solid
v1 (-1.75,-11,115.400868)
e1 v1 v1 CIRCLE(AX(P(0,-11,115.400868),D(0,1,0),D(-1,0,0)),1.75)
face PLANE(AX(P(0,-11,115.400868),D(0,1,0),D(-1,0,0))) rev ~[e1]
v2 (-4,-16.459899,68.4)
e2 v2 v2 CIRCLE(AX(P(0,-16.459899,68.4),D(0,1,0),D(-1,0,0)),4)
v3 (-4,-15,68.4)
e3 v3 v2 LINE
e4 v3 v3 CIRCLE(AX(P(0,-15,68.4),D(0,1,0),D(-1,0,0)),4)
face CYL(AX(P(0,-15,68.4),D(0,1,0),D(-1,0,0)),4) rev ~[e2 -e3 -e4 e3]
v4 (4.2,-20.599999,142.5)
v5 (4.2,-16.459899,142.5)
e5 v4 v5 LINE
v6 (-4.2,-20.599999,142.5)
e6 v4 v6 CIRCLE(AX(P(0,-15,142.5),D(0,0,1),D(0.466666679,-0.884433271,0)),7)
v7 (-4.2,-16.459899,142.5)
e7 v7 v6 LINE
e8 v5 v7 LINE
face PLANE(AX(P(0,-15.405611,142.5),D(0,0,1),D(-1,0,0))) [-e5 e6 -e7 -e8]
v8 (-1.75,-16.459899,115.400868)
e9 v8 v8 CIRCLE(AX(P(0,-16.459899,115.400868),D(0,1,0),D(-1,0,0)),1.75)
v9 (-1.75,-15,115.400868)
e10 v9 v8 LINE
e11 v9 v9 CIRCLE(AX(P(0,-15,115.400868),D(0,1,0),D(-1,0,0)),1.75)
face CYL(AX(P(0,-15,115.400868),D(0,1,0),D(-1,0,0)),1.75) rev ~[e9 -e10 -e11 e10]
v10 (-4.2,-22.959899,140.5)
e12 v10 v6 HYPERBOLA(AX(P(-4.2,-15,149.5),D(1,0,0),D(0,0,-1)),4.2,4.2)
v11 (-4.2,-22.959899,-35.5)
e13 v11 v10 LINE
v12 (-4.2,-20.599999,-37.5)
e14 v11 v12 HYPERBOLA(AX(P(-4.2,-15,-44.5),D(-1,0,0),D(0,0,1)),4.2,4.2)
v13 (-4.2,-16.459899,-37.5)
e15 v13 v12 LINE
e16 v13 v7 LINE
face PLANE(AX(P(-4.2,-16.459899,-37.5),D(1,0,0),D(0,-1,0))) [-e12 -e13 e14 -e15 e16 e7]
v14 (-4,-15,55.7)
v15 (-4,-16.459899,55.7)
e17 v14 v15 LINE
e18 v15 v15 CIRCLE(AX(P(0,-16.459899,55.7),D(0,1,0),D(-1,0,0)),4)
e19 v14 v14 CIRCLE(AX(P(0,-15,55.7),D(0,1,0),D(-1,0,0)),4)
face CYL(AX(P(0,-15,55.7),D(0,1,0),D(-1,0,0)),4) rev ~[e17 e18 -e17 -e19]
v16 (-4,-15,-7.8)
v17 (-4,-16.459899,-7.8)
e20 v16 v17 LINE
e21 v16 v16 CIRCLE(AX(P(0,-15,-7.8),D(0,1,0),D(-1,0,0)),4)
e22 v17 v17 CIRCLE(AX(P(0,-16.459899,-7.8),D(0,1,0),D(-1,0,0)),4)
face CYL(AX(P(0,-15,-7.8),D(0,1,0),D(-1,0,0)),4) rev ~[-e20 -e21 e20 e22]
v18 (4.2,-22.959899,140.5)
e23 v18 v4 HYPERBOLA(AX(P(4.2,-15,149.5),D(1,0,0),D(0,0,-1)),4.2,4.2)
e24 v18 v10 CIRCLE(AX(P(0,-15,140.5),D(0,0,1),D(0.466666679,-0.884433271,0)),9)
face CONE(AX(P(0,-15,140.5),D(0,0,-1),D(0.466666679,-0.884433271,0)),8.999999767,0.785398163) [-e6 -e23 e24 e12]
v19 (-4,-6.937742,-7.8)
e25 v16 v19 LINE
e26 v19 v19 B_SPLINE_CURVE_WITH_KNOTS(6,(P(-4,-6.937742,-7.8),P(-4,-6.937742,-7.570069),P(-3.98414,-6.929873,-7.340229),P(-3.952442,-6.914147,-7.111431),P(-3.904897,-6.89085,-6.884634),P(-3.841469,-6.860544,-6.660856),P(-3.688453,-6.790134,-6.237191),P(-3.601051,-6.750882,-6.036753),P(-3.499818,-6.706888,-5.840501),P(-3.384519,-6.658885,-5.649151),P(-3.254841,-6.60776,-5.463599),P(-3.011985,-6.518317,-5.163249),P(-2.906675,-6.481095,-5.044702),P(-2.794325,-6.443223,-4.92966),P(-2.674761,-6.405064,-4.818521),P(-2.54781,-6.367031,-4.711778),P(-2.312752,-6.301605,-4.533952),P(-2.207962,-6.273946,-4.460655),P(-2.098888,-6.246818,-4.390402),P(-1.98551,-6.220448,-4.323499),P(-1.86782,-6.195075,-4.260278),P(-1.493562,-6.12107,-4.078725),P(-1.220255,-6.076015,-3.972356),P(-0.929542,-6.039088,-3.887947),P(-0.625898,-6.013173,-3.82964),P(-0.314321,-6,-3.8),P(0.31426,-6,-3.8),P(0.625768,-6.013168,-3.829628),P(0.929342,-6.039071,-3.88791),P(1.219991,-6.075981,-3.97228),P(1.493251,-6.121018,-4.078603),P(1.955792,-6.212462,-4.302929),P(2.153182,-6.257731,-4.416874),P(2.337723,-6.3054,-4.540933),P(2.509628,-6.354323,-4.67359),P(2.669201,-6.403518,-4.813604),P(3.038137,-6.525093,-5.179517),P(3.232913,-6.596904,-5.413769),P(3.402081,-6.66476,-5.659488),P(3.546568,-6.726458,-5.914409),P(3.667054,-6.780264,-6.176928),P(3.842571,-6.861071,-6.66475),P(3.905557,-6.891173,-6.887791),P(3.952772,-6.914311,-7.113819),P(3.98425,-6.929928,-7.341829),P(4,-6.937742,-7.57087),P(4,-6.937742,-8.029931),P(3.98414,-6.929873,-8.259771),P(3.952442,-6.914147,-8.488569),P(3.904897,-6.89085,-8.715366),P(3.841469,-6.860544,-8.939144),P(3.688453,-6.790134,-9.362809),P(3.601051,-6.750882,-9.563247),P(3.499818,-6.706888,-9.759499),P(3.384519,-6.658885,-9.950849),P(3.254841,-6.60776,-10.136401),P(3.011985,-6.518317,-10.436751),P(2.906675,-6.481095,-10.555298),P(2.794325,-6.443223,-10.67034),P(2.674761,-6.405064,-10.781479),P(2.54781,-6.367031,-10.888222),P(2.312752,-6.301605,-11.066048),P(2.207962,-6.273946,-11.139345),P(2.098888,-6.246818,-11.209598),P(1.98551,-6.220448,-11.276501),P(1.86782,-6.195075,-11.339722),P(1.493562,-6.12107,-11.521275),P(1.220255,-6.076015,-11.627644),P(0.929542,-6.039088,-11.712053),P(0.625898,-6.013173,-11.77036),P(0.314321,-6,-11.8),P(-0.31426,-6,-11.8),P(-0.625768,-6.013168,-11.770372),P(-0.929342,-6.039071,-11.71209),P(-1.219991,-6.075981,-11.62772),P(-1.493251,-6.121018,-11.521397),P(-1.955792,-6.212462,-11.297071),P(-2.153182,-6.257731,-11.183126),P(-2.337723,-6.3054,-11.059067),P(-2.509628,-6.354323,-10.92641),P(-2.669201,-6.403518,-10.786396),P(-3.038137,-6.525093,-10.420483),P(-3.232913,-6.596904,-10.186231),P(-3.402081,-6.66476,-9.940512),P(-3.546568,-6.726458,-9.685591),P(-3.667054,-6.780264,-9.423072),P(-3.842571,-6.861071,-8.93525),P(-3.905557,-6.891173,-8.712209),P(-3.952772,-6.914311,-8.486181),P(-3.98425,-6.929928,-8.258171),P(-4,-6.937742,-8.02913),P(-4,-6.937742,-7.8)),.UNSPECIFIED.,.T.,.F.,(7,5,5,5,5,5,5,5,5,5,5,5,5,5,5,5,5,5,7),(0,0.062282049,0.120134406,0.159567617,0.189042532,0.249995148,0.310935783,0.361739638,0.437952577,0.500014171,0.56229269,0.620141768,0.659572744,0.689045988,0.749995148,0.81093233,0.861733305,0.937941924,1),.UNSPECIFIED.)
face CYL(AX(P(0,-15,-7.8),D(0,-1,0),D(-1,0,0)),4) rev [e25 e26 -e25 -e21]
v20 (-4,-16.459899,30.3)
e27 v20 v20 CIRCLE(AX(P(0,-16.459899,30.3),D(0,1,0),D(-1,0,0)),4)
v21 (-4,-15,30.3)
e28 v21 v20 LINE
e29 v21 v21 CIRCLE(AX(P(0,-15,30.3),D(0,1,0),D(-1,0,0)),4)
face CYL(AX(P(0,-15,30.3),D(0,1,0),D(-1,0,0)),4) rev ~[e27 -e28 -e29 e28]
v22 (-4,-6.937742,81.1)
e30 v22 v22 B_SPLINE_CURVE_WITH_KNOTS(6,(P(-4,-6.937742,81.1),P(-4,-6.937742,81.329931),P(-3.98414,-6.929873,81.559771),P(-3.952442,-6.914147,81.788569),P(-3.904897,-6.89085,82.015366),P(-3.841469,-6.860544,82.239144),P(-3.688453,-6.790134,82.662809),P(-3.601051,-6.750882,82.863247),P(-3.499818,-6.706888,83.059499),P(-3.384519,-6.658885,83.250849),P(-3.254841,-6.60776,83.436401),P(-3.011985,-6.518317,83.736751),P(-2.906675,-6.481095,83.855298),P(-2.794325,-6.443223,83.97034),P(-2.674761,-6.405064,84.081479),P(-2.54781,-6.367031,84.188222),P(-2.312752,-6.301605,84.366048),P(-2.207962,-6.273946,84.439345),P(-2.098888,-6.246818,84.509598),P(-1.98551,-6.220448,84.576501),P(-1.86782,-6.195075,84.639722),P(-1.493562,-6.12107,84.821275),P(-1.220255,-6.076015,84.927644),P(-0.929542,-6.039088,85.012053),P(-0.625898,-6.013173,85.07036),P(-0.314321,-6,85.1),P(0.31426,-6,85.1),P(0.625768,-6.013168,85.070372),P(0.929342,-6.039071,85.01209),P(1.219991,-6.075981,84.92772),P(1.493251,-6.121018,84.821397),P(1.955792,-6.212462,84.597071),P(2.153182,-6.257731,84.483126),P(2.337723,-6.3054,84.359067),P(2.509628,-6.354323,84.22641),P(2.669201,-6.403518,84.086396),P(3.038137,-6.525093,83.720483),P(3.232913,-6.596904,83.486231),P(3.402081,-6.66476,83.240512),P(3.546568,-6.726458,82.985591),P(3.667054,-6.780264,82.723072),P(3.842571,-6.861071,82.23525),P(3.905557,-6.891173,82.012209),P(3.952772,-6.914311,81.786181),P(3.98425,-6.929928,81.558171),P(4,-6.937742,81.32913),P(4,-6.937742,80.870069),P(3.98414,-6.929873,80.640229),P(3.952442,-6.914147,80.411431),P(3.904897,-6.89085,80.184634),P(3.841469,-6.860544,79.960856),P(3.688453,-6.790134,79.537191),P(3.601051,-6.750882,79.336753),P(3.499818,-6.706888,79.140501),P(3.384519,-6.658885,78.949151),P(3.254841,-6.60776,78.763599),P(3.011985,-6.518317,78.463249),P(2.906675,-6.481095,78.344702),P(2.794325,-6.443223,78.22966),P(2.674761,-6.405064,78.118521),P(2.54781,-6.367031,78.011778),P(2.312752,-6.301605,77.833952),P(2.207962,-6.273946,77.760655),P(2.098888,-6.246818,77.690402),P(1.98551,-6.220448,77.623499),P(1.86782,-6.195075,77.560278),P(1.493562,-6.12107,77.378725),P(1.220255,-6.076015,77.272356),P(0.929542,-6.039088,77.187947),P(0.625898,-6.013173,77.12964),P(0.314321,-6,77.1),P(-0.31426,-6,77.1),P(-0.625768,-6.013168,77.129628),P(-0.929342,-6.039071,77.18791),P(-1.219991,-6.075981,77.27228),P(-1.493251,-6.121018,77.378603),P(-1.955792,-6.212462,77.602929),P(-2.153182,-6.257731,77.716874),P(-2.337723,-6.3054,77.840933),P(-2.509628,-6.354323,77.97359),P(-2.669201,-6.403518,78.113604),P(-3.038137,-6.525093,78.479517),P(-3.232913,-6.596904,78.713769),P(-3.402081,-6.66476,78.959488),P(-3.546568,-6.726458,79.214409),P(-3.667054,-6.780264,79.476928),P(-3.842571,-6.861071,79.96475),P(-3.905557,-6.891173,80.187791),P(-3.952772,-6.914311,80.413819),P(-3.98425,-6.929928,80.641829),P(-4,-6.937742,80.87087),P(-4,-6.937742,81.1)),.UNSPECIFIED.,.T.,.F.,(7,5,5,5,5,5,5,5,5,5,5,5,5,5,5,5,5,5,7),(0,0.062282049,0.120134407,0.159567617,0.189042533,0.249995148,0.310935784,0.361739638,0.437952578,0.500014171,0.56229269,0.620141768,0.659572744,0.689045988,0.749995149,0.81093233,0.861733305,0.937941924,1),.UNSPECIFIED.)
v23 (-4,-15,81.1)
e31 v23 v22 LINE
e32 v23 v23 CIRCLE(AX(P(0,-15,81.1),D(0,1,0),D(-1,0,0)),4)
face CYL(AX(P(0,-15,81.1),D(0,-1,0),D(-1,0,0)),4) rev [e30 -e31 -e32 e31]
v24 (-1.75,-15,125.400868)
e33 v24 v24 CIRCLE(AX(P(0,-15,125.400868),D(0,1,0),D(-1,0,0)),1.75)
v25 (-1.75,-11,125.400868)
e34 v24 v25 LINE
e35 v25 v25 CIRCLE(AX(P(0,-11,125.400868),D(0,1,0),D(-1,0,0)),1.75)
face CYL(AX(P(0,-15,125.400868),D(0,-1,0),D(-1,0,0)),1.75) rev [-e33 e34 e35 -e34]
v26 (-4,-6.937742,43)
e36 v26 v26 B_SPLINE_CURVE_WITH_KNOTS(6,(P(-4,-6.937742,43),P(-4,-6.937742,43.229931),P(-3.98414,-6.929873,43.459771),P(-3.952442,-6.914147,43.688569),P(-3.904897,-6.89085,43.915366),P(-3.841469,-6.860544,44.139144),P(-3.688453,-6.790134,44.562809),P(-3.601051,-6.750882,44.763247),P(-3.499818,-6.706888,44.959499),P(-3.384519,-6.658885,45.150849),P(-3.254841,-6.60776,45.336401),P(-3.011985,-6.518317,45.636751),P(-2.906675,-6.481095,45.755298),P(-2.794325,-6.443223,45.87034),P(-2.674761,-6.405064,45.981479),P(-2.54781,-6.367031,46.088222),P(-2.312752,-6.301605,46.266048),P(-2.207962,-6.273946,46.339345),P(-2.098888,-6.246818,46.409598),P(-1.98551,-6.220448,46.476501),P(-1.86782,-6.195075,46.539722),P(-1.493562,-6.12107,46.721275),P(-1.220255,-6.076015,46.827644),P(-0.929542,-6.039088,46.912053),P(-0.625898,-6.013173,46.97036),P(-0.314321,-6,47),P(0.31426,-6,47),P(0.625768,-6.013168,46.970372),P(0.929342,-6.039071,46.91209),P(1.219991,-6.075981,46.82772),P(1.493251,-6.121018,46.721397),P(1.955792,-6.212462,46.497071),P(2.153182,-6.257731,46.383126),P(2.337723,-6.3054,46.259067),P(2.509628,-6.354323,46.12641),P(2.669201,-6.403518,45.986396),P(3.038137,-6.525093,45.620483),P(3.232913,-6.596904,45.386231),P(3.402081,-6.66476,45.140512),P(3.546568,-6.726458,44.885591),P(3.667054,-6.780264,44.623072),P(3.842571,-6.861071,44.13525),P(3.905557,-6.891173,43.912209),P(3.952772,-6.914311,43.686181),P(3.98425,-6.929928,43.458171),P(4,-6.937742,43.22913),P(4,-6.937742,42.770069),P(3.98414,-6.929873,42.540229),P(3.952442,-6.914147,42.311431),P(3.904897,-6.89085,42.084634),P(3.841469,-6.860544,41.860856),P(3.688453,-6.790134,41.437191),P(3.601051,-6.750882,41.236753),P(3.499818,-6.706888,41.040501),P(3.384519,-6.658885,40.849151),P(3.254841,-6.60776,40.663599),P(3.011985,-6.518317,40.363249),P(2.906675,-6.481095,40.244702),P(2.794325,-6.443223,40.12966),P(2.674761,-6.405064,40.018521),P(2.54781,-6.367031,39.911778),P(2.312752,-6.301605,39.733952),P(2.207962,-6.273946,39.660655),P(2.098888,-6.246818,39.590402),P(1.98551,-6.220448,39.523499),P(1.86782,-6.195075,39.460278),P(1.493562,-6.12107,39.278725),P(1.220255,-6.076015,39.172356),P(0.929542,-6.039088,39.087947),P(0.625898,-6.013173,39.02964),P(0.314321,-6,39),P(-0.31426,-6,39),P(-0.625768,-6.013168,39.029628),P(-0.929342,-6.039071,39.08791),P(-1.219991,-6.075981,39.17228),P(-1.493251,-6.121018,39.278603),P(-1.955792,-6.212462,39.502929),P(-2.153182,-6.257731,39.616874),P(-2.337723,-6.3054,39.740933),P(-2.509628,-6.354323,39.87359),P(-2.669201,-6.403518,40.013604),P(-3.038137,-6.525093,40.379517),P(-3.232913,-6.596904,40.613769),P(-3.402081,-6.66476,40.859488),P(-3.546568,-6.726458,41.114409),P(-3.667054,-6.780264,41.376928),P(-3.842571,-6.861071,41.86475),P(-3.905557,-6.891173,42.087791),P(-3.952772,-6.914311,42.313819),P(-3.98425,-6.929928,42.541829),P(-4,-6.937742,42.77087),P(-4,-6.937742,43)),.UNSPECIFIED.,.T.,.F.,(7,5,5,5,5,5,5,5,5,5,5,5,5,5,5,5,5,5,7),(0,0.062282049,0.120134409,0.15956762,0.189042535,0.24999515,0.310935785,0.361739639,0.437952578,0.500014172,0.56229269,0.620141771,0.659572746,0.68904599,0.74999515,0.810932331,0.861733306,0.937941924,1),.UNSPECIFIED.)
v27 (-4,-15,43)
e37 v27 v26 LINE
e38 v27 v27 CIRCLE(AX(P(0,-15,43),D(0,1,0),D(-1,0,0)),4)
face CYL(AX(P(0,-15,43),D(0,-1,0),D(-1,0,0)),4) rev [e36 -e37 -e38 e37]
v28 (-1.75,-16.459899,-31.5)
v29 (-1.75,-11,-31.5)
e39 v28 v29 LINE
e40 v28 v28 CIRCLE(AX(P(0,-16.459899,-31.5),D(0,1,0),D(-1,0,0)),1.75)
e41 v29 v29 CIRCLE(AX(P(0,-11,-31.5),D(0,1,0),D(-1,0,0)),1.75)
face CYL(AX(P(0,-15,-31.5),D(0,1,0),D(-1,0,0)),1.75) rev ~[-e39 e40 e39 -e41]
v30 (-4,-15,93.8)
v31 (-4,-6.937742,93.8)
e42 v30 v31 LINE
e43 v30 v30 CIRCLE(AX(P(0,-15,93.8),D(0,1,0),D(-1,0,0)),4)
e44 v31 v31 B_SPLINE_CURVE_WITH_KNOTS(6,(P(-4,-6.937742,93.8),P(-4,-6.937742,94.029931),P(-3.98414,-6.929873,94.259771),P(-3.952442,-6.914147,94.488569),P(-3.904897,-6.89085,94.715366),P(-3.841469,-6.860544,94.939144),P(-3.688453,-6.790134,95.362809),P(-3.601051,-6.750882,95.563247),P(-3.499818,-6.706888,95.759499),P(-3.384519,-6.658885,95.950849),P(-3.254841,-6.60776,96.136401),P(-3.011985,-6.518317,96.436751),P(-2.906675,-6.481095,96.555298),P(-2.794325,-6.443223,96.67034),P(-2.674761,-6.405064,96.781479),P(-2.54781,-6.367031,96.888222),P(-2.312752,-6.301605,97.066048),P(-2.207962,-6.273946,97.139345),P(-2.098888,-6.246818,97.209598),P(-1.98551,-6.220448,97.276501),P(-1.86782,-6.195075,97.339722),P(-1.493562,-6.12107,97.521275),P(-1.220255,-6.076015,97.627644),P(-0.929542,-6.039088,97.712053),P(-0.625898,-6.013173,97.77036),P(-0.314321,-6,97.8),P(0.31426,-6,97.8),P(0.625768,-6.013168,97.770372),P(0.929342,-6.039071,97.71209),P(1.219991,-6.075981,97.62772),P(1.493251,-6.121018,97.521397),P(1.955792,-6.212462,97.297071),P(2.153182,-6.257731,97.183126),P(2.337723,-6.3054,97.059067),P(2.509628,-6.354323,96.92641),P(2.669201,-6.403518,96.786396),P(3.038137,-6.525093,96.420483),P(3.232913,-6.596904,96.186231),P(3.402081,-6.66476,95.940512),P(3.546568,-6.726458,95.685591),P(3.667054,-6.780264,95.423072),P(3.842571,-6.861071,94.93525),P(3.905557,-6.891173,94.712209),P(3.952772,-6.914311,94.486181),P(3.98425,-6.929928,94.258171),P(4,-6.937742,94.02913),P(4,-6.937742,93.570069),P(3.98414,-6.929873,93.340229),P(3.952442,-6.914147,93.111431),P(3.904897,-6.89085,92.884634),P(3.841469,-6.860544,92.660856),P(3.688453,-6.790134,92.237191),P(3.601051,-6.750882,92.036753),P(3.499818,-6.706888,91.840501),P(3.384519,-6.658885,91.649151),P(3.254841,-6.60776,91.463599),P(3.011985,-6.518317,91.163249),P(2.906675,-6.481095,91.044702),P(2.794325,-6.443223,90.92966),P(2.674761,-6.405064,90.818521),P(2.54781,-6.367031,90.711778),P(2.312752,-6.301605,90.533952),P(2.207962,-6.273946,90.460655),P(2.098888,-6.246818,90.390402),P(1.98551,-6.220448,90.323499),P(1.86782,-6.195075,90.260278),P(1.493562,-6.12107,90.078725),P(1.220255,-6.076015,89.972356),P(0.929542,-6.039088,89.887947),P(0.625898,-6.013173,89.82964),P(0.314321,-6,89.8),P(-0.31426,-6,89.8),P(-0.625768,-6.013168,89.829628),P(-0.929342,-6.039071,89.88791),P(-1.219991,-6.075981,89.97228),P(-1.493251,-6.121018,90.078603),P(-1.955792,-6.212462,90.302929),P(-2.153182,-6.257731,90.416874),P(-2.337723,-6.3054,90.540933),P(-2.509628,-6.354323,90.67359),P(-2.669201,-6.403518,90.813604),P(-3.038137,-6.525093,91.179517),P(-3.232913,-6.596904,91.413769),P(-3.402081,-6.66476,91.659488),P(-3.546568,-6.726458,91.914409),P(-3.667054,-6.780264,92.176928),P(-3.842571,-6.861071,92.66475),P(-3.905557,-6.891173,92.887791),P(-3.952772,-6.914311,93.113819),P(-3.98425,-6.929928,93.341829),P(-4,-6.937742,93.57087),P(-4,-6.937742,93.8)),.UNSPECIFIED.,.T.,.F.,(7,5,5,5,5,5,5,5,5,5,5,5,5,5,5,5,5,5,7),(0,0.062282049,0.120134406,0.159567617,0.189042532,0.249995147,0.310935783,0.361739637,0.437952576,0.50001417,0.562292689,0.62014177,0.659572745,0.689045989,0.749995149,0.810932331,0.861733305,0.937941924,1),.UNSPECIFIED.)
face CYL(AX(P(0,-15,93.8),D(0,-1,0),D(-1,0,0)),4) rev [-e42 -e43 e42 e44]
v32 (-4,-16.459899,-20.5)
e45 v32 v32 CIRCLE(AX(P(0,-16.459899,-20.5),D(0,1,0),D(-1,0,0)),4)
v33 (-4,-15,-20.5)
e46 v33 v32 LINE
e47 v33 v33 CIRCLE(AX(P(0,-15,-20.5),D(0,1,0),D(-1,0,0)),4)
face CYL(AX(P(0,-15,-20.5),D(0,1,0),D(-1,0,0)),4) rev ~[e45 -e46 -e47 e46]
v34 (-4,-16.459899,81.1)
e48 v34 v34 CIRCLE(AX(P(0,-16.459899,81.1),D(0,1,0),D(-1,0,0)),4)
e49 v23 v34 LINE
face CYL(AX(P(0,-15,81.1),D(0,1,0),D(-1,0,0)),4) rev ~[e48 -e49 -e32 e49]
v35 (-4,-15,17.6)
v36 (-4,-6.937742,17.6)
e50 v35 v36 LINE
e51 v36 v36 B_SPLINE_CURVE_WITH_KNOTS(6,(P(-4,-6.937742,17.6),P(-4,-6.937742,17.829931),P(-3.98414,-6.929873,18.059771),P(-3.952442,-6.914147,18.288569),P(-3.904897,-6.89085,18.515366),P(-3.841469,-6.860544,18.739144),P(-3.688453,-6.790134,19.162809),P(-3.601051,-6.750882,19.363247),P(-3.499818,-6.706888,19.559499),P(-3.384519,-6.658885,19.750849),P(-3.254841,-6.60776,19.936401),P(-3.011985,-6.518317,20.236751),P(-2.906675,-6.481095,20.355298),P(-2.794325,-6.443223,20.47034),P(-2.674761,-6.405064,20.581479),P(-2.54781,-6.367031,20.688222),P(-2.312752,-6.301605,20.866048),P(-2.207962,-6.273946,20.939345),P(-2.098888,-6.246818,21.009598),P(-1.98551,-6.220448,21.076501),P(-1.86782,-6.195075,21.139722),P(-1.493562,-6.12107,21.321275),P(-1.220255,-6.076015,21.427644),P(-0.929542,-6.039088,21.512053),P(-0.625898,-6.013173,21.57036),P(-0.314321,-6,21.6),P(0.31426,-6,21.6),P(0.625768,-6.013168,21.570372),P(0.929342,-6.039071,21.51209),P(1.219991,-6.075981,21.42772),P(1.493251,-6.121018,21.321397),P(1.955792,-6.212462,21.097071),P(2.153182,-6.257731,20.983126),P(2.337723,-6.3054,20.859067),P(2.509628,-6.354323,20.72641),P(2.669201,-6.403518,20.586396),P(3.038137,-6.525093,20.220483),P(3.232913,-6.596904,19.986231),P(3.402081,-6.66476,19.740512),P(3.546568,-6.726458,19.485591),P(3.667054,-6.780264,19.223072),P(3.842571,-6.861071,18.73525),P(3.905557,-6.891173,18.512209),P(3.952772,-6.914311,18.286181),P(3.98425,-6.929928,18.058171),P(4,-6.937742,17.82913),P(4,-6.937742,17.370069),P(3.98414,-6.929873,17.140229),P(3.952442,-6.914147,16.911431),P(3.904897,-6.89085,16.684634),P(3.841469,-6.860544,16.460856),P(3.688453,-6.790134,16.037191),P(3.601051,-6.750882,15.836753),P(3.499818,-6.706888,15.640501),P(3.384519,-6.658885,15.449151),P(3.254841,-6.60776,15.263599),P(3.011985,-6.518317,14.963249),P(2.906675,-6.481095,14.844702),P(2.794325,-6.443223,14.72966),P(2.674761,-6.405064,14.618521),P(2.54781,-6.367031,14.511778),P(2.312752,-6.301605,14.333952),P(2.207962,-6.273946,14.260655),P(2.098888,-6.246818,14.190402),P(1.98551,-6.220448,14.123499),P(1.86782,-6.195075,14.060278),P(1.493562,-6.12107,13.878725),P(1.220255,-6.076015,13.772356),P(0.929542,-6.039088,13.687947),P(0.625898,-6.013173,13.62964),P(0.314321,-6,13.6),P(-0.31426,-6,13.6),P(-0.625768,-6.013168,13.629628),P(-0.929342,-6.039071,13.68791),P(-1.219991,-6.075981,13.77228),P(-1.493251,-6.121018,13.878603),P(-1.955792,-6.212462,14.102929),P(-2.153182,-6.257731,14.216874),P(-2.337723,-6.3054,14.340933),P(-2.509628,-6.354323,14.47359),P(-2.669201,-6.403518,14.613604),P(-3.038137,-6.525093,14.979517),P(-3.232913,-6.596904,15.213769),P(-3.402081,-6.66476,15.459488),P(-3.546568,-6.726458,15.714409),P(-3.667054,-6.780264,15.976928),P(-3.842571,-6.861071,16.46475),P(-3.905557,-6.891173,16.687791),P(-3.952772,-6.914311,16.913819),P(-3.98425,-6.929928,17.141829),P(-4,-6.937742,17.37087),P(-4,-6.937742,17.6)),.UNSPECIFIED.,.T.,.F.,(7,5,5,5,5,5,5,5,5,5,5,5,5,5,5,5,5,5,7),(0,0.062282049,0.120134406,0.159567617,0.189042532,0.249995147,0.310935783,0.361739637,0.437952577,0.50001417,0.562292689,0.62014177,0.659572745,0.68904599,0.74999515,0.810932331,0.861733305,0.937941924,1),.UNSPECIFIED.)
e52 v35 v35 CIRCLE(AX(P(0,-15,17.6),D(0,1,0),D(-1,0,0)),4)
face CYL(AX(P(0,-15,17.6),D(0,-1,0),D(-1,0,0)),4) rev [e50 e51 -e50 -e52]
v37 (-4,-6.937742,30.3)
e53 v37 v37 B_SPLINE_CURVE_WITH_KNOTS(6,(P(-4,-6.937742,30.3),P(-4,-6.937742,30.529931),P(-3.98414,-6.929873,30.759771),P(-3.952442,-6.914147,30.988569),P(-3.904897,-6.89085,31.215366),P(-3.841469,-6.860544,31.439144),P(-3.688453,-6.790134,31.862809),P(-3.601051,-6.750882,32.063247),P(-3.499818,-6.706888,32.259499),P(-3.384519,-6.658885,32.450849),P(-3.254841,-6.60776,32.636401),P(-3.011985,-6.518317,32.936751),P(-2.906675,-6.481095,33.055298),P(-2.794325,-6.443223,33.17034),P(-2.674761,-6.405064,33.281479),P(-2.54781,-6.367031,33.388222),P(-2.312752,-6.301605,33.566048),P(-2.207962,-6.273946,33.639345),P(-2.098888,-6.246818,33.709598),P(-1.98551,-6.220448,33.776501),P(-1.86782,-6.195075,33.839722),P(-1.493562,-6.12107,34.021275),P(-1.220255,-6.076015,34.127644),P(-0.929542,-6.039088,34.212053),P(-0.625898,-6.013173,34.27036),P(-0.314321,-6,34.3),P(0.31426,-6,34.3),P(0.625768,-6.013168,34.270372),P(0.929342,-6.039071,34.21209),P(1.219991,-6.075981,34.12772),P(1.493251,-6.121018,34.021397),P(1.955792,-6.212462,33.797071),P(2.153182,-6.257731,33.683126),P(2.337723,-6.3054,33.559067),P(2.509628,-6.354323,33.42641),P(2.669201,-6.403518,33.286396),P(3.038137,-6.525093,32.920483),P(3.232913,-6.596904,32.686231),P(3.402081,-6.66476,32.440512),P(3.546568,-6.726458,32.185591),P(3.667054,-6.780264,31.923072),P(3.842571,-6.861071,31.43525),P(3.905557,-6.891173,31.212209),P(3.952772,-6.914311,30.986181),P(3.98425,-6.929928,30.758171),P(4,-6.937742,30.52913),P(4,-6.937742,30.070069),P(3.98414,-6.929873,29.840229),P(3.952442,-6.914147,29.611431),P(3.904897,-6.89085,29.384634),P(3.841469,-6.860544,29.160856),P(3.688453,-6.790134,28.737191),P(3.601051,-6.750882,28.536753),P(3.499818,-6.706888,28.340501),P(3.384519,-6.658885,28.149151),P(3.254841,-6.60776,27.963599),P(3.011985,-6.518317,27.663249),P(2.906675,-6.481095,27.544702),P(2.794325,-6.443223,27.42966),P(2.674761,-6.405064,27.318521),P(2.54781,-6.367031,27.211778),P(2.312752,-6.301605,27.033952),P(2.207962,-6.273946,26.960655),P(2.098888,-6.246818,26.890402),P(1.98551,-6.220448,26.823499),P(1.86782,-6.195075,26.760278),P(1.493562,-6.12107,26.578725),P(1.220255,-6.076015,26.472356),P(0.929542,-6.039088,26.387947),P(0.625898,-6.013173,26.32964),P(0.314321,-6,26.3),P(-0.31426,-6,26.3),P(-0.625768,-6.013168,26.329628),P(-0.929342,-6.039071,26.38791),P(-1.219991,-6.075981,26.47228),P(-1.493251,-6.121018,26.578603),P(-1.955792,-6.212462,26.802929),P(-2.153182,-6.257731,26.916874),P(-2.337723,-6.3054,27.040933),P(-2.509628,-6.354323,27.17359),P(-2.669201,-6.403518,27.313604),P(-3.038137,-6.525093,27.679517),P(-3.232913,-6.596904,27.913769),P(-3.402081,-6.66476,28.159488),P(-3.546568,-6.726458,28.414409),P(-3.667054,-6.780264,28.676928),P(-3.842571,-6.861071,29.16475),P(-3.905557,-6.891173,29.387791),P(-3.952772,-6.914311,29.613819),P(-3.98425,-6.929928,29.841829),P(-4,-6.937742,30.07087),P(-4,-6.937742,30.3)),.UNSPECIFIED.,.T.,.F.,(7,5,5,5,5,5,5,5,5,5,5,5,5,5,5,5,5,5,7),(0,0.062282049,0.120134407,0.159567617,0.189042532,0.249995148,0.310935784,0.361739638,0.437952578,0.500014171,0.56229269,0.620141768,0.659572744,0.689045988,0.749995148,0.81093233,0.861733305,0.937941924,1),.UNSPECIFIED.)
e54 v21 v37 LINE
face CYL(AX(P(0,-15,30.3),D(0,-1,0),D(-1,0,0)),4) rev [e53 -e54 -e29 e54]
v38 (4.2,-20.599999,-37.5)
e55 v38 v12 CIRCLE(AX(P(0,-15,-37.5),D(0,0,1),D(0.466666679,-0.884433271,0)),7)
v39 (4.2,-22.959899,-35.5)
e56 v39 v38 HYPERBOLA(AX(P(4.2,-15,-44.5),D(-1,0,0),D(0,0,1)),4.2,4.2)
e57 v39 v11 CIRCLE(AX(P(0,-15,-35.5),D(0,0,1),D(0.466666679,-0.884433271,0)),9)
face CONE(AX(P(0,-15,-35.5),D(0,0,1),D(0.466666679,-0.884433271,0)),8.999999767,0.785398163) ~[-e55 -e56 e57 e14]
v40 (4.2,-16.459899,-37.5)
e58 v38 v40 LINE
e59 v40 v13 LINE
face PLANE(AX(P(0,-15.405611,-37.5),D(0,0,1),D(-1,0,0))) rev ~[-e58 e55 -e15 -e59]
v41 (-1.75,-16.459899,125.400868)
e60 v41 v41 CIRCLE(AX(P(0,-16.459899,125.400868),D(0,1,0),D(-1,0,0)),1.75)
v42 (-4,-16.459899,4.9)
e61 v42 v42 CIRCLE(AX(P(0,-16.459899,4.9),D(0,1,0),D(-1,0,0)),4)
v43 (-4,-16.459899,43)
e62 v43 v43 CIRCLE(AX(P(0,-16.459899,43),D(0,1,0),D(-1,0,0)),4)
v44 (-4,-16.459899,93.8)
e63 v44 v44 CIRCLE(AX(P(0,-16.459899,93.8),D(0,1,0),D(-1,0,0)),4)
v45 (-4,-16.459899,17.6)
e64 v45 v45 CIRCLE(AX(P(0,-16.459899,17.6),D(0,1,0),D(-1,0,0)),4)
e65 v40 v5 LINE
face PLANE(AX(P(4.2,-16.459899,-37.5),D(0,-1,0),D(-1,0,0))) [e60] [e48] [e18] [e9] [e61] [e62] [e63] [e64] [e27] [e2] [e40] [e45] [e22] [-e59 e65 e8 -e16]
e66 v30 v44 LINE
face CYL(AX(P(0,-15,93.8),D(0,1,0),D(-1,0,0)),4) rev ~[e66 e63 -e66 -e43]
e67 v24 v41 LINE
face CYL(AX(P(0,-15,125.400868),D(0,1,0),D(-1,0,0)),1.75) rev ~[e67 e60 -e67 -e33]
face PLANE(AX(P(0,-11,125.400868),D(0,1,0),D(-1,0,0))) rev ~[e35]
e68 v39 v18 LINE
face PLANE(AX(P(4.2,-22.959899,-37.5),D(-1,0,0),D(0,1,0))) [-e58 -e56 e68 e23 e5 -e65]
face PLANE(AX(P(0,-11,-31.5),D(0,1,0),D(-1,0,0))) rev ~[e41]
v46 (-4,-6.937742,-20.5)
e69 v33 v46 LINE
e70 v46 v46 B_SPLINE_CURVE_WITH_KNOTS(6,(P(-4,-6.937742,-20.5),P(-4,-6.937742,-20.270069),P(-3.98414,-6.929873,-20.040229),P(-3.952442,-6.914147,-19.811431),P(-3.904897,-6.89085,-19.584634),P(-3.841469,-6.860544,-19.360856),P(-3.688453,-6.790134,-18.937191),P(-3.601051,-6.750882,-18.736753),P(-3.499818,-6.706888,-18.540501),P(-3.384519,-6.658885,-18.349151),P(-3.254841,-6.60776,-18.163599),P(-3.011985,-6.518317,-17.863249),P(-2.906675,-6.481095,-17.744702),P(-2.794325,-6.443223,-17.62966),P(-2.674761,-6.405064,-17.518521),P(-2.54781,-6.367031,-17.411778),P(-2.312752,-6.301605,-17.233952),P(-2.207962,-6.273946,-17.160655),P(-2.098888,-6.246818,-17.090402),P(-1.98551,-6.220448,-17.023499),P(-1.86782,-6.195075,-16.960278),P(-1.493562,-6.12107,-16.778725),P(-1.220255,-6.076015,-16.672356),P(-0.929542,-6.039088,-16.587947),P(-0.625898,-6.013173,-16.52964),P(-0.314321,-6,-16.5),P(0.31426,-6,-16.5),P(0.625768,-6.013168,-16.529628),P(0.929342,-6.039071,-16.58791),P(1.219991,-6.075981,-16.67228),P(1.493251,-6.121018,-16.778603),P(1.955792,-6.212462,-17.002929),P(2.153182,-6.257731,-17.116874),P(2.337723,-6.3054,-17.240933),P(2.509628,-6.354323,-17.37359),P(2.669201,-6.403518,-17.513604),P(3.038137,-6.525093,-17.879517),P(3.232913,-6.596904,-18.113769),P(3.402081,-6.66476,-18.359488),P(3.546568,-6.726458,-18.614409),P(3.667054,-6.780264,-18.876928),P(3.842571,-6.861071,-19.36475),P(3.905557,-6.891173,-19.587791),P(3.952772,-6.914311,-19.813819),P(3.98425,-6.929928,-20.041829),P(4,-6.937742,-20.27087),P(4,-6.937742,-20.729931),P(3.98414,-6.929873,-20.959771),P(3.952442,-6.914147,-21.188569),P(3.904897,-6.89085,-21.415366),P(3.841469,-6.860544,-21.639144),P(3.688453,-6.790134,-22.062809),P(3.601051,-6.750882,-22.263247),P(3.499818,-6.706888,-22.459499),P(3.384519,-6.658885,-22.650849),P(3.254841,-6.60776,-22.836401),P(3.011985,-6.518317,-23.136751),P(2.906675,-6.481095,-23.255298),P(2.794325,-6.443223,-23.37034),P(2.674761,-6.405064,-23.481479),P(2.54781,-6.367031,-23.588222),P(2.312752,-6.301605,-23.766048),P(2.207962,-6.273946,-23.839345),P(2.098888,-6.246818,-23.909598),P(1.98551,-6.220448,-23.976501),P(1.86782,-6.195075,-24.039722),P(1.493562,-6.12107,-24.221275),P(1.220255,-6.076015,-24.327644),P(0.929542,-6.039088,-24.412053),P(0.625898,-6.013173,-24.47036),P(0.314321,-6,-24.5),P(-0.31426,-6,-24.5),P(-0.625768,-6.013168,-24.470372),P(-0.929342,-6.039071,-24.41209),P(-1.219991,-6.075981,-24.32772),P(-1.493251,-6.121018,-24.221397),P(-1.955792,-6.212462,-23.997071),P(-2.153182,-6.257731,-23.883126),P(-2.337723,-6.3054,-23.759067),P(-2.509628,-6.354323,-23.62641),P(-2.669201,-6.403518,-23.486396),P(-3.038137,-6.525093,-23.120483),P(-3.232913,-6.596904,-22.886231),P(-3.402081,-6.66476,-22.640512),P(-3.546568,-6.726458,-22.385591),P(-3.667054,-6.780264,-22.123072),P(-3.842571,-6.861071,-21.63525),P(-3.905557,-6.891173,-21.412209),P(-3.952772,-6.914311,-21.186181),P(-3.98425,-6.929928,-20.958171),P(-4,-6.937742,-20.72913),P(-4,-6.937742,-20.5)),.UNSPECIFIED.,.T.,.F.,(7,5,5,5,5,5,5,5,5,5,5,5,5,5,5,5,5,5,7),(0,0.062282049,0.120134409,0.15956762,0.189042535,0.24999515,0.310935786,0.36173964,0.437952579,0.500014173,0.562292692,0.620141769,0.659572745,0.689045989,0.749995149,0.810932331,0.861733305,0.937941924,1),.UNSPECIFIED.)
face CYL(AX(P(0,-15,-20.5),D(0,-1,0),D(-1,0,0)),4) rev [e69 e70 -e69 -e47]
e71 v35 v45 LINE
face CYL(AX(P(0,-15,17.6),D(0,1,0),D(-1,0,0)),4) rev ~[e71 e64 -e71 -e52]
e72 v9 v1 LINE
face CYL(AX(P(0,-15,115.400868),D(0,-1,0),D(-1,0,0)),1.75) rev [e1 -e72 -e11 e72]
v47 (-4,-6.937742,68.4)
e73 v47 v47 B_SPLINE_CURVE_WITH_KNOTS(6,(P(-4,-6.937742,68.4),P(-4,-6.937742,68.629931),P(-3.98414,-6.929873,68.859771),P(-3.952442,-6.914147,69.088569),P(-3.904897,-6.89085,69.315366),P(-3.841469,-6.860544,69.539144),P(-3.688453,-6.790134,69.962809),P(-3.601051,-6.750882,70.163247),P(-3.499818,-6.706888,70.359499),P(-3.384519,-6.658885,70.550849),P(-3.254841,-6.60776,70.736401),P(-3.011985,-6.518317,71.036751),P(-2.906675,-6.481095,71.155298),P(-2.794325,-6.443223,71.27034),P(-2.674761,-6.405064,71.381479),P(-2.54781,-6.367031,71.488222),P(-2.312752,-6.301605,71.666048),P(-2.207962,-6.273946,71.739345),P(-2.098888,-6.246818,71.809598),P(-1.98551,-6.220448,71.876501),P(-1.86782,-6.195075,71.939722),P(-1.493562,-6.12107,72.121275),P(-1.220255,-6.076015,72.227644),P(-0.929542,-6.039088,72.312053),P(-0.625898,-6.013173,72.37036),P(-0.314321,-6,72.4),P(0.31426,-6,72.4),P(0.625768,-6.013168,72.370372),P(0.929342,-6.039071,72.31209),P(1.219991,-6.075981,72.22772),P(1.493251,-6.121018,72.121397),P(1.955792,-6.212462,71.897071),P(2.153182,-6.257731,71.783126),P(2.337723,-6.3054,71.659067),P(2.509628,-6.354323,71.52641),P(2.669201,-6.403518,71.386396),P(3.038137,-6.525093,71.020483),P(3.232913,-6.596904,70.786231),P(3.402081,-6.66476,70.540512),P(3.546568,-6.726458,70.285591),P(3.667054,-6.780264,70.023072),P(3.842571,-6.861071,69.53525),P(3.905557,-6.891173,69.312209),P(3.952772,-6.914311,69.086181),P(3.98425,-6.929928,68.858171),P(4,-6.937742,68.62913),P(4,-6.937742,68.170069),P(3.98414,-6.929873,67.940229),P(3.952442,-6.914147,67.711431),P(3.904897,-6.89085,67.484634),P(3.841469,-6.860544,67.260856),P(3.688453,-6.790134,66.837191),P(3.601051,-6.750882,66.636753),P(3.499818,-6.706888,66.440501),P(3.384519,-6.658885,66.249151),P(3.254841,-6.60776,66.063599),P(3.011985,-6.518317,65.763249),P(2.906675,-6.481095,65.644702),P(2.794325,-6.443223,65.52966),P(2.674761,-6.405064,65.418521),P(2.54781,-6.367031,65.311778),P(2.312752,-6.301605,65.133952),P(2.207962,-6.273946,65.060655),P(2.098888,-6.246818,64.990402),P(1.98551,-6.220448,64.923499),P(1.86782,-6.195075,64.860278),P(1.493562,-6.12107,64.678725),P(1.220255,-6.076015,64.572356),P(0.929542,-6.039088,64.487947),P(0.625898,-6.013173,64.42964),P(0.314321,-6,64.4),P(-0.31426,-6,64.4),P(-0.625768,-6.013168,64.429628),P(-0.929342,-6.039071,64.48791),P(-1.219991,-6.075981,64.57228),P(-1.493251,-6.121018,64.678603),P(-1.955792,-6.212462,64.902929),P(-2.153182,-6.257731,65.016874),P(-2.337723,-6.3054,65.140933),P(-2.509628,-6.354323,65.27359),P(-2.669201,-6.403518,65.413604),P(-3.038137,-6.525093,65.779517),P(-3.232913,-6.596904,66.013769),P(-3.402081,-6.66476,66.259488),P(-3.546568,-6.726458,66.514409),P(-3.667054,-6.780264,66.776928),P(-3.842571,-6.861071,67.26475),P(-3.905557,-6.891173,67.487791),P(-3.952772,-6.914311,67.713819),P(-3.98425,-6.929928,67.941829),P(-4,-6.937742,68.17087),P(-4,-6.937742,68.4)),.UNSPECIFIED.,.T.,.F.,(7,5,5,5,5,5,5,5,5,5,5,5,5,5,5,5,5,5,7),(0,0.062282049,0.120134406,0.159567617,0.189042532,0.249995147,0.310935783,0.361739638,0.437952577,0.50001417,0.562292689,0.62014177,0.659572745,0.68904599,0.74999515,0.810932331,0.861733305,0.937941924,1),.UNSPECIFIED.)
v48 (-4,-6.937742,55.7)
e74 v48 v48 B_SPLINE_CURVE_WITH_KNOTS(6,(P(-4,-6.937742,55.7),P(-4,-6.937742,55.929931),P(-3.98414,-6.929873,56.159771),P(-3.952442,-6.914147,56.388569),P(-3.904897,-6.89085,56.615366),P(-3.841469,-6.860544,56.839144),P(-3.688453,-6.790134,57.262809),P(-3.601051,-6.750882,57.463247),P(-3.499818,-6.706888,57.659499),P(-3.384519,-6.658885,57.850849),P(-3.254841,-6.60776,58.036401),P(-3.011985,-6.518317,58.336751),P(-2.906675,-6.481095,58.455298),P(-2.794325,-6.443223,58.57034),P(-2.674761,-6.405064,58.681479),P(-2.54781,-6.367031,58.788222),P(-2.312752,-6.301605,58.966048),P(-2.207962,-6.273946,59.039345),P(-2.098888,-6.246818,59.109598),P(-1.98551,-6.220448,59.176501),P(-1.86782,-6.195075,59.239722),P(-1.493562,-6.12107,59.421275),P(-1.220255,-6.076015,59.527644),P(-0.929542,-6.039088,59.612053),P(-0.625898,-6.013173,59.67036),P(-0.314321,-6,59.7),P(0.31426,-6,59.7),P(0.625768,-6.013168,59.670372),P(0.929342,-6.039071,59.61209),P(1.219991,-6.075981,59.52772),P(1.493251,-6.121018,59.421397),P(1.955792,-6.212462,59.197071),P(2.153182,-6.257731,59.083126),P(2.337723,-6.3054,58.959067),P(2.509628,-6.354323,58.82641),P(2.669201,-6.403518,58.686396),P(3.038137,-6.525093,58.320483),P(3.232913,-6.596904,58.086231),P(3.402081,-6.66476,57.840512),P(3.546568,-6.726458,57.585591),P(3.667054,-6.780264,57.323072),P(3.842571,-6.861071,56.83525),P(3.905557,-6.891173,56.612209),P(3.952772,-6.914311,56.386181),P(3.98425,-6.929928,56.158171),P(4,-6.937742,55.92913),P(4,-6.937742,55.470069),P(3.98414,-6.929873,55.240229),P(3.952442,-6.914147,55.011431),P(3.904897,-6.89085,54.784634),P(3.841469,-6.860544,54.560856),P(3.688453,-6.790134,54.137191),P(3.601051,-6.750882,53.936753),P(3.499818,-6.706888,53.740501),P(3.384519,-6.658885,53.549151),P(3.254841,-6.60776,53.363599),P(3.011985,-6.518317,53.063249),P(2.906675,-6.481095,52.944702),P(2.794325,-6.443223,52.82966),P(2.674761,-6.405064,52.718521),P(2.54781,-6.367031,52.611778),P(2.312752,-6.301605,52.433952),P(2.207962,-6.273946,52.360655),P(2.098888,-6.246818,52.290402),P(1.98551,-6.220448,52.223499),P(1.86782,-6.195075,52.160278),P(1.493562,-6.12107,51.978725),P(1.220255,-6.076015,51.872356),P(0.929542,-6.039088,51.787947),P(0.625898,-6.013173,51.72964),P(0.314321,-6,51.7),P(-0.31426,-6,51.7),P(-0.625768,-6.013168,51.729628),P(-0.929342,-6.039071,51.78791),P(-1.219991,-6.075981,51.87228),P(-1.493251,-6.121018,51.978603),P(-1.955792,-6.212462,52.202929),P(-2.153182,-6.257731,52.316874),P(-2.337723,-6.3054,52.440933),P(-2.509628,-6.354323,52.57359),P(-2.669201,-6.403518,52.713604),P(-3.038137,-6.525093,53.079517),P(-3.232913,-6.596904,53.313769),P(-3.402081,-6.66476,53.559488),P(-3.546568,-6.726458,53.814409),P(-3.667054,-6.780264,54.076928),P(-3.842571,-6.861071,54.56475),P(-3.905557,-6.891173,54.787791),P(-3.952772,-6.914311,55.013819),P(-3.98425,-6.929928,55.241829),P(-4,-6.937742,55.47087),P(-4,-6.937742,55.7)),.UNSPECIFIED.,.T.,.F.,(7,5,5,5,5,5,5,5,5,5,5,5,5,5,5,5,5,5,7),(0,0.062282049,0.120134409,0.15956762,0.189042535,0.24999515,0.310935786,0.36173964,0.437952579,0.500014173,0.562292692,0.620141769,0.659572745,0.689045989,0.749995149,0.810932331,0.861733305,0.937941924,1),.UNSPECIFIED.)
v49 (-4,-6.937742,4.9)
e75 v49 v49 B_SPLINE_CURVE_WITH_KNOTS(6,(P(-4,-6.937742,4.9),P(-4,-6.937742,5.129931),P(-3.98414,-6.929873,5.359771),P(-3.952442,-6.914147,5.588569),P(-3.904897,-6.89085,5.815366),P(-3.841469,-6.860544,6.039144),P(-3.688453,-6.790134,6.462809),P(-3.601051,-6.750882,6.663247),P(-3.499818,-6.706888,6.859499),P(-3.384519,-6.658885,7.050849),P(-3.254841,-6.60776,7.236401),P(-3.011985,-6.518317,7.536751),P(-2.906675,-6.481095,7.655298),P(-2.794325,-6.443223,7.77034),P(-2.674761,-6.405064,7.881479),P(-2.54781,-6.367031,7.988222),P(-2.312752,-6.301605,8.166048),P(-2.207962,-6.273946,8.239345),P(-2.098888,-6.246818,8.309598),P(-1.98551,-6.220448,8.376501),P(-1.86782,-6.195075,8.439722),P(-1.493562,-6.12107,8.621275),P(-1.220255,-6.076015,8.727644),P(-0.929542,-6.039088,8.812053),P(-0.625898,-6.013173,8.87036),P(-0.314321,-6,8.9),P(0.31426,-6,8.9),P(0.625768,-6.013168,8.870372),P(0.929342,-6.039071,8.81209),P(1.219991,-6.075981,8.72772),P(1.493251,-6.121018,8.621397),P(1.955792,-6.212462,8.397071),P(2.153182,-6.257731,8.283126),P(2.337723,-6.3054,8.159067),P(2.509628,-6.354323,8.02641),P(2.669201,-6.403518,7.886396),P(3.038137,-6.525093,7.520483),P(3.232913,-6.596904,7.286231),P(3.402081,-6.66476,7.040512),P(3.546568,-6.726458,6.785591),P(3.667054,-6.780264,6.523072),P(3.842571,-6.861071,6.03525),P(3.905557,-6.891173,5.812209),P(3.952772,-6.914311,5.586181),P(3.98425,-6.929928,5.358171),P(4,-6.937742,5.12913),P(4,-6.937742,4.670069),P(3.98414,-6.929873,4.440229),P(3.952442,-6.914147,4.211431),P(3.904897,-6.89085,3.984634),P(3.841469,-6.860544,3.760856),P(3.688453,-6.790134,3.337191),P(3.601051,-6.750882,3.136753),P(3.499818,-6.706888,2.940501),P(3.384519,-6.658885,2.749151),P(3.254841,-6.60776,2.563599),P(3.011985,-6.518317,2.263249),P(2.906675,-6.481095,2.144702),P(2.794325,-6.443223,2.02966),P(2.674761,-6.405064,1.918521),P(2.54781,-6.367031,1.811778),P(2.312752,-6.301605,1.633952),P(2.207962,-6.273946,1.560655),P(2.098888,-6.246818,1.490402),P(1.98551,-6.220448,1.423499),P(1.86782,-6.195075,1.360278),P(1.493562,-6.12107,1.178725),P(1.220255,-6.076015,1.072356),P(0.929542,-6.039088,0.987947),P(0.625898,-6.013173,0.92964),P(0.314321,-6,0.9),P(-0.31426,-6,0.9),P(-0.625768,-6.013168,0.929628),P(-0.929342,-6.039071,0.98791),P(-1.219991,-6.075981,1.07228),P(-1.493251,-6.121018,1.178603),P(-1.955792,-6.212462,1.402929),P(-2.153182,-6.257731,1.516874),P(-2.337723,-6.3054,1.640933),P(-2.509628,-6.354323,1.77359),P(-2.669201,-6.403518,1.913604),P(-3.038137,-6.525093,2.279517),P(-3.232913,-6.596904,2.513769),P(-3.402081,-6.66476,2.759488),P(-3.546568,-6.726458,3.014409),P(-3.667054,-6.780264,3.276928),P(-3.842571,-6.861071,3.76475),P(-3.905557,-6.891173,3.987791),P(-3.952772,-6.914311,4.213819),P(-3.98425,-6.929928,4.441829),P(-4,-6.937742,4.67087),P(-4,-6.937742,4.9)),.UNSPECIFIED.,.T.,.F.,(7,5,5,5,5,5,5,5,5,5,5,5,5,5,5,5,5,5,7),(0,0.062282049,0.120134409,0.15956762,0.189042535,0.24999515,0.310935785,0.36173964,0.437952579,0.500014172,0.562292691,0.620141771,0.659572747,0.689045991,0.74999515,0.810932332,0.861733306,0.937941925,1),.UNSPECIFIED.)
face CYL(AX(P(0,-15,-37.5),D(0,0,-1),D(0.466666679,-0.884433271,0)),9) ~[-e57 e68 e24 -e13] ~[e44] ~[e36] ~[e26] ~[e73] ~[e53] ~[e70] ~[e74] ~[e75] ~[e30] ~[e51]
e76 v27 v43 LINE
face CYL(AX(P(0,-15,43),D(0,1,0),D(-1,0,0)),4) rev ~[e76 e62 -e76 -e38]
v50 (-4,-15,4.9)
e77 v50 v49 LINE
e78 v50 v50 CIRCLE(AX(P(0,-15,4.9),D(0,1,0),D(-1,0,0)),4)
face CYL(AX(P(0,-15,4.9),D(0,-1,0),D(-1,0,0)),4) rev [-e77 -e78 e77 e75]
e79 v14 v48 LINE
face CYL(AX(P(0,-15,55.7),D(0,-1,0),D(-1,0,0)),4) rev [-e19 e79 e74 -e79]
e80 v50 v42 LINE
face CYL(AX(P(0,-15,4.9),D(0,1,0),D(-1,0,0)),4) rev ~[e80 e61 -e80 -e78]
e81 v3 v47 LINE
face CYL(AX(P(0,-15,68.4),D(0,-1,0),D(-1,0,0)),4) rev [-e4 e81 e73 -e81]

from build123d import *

# Parameters (mm, degrees)
PAD_DEPTH            = 180
CHAMFER_SIZE         = 2
SKETCH001_R          = 4
POCKET_DEPTH         = 7.960899
POCKET_DEPTH_BACK    = 9.001
SKETCH016_R          = 1.75
POCKET008_DEPTH      = 4
BODY_PLACEMENT_ANGLE = 180


with BuildPart() as part:
    # Sketch → Pad (new body)
    with BuildSketch(Plane.XY):
        with BuildLine():
            ThreePointArc((-4.2, 7.959899), (0, -9), (4.2, 7.959899))
            Line((4.2, 1.459899), (4.2, 7.959899))
            Line((-4.2, 1.459899), (4.2, 1.459899))
            Line((-4.2, 7.959899), (-4.2, 1.459899))
        make_face()
    extrude(amount=PAD_DEPTH)

    # Chamfer
    chamfer_edges = [part.edges().sort_by_distance(p)[0] for p in [
        (0, -9, 180),
        (0, -9, 0),
    ]]
    chamfer(chamfer_edges, length=CHAMFER_SIZE)

    # Sketch001 → Pocket (cut, two sides)
    with BuildSketch(Plane.XZ) as pocket_sk:
        with Locations((0, 17)):
            Circle(SKETCH001_R)
        with Locations((0, 29.7)):
            Circle(SKETCH001_R)
        with Locations((0, 42.4)):
            Circle(SKETCH001_R)
        with Locations((0, 55.1)):
            Circle(SKETCH001_R)
        with Locations((0, 67.8)):
            Circle(SKETCH001_R)
        with Locations((0, 80.5)):
            Circle(SKETCH001_R)
        with Locations((0, 93.2)):
            Circle(SKETCH001_R)
        with Locations((0, 105.9)):
            Circle(SKETCH001_R)
        with Locations((0, 118.6)):
            Circle(SKETCH001_R)
        with Locations((0, 131.3)):
            Circle(SKETCH001_R)
    extrude(amount=-POCKET_DEPTH, mode=Mode.SUBTRACT)
    extrude(pocket_sk.sketch, amount=POCKET_DEPTH_BACK, mode=Mode.SUBTRACT)

    # Sketch016 → Pocket008 (cut, symmetric)
    with BuildSketch(Plane.XZ):
        with Locations((0, 162.900868)):
            Circle(SKETCH016_R)
        with Locations((0, 152.900868)):
            Circle(SKETCH016_R)
        with Locations((0, 6)):
            Circle(SKETCH016_R)
    extrude(amount=POCKET008_DEPTH, both=True, mode=Mode.SUBTRACT)


with BuildPart() as part_1:
    # Body placement: moved
    add(part.part.moved(Location((0, -15, -37.5))).rotate(Axis((0, -15, -37.5), (0, 0, 1)), BODY_PLACEMENT_ANGLE))


solid = part_1.part
